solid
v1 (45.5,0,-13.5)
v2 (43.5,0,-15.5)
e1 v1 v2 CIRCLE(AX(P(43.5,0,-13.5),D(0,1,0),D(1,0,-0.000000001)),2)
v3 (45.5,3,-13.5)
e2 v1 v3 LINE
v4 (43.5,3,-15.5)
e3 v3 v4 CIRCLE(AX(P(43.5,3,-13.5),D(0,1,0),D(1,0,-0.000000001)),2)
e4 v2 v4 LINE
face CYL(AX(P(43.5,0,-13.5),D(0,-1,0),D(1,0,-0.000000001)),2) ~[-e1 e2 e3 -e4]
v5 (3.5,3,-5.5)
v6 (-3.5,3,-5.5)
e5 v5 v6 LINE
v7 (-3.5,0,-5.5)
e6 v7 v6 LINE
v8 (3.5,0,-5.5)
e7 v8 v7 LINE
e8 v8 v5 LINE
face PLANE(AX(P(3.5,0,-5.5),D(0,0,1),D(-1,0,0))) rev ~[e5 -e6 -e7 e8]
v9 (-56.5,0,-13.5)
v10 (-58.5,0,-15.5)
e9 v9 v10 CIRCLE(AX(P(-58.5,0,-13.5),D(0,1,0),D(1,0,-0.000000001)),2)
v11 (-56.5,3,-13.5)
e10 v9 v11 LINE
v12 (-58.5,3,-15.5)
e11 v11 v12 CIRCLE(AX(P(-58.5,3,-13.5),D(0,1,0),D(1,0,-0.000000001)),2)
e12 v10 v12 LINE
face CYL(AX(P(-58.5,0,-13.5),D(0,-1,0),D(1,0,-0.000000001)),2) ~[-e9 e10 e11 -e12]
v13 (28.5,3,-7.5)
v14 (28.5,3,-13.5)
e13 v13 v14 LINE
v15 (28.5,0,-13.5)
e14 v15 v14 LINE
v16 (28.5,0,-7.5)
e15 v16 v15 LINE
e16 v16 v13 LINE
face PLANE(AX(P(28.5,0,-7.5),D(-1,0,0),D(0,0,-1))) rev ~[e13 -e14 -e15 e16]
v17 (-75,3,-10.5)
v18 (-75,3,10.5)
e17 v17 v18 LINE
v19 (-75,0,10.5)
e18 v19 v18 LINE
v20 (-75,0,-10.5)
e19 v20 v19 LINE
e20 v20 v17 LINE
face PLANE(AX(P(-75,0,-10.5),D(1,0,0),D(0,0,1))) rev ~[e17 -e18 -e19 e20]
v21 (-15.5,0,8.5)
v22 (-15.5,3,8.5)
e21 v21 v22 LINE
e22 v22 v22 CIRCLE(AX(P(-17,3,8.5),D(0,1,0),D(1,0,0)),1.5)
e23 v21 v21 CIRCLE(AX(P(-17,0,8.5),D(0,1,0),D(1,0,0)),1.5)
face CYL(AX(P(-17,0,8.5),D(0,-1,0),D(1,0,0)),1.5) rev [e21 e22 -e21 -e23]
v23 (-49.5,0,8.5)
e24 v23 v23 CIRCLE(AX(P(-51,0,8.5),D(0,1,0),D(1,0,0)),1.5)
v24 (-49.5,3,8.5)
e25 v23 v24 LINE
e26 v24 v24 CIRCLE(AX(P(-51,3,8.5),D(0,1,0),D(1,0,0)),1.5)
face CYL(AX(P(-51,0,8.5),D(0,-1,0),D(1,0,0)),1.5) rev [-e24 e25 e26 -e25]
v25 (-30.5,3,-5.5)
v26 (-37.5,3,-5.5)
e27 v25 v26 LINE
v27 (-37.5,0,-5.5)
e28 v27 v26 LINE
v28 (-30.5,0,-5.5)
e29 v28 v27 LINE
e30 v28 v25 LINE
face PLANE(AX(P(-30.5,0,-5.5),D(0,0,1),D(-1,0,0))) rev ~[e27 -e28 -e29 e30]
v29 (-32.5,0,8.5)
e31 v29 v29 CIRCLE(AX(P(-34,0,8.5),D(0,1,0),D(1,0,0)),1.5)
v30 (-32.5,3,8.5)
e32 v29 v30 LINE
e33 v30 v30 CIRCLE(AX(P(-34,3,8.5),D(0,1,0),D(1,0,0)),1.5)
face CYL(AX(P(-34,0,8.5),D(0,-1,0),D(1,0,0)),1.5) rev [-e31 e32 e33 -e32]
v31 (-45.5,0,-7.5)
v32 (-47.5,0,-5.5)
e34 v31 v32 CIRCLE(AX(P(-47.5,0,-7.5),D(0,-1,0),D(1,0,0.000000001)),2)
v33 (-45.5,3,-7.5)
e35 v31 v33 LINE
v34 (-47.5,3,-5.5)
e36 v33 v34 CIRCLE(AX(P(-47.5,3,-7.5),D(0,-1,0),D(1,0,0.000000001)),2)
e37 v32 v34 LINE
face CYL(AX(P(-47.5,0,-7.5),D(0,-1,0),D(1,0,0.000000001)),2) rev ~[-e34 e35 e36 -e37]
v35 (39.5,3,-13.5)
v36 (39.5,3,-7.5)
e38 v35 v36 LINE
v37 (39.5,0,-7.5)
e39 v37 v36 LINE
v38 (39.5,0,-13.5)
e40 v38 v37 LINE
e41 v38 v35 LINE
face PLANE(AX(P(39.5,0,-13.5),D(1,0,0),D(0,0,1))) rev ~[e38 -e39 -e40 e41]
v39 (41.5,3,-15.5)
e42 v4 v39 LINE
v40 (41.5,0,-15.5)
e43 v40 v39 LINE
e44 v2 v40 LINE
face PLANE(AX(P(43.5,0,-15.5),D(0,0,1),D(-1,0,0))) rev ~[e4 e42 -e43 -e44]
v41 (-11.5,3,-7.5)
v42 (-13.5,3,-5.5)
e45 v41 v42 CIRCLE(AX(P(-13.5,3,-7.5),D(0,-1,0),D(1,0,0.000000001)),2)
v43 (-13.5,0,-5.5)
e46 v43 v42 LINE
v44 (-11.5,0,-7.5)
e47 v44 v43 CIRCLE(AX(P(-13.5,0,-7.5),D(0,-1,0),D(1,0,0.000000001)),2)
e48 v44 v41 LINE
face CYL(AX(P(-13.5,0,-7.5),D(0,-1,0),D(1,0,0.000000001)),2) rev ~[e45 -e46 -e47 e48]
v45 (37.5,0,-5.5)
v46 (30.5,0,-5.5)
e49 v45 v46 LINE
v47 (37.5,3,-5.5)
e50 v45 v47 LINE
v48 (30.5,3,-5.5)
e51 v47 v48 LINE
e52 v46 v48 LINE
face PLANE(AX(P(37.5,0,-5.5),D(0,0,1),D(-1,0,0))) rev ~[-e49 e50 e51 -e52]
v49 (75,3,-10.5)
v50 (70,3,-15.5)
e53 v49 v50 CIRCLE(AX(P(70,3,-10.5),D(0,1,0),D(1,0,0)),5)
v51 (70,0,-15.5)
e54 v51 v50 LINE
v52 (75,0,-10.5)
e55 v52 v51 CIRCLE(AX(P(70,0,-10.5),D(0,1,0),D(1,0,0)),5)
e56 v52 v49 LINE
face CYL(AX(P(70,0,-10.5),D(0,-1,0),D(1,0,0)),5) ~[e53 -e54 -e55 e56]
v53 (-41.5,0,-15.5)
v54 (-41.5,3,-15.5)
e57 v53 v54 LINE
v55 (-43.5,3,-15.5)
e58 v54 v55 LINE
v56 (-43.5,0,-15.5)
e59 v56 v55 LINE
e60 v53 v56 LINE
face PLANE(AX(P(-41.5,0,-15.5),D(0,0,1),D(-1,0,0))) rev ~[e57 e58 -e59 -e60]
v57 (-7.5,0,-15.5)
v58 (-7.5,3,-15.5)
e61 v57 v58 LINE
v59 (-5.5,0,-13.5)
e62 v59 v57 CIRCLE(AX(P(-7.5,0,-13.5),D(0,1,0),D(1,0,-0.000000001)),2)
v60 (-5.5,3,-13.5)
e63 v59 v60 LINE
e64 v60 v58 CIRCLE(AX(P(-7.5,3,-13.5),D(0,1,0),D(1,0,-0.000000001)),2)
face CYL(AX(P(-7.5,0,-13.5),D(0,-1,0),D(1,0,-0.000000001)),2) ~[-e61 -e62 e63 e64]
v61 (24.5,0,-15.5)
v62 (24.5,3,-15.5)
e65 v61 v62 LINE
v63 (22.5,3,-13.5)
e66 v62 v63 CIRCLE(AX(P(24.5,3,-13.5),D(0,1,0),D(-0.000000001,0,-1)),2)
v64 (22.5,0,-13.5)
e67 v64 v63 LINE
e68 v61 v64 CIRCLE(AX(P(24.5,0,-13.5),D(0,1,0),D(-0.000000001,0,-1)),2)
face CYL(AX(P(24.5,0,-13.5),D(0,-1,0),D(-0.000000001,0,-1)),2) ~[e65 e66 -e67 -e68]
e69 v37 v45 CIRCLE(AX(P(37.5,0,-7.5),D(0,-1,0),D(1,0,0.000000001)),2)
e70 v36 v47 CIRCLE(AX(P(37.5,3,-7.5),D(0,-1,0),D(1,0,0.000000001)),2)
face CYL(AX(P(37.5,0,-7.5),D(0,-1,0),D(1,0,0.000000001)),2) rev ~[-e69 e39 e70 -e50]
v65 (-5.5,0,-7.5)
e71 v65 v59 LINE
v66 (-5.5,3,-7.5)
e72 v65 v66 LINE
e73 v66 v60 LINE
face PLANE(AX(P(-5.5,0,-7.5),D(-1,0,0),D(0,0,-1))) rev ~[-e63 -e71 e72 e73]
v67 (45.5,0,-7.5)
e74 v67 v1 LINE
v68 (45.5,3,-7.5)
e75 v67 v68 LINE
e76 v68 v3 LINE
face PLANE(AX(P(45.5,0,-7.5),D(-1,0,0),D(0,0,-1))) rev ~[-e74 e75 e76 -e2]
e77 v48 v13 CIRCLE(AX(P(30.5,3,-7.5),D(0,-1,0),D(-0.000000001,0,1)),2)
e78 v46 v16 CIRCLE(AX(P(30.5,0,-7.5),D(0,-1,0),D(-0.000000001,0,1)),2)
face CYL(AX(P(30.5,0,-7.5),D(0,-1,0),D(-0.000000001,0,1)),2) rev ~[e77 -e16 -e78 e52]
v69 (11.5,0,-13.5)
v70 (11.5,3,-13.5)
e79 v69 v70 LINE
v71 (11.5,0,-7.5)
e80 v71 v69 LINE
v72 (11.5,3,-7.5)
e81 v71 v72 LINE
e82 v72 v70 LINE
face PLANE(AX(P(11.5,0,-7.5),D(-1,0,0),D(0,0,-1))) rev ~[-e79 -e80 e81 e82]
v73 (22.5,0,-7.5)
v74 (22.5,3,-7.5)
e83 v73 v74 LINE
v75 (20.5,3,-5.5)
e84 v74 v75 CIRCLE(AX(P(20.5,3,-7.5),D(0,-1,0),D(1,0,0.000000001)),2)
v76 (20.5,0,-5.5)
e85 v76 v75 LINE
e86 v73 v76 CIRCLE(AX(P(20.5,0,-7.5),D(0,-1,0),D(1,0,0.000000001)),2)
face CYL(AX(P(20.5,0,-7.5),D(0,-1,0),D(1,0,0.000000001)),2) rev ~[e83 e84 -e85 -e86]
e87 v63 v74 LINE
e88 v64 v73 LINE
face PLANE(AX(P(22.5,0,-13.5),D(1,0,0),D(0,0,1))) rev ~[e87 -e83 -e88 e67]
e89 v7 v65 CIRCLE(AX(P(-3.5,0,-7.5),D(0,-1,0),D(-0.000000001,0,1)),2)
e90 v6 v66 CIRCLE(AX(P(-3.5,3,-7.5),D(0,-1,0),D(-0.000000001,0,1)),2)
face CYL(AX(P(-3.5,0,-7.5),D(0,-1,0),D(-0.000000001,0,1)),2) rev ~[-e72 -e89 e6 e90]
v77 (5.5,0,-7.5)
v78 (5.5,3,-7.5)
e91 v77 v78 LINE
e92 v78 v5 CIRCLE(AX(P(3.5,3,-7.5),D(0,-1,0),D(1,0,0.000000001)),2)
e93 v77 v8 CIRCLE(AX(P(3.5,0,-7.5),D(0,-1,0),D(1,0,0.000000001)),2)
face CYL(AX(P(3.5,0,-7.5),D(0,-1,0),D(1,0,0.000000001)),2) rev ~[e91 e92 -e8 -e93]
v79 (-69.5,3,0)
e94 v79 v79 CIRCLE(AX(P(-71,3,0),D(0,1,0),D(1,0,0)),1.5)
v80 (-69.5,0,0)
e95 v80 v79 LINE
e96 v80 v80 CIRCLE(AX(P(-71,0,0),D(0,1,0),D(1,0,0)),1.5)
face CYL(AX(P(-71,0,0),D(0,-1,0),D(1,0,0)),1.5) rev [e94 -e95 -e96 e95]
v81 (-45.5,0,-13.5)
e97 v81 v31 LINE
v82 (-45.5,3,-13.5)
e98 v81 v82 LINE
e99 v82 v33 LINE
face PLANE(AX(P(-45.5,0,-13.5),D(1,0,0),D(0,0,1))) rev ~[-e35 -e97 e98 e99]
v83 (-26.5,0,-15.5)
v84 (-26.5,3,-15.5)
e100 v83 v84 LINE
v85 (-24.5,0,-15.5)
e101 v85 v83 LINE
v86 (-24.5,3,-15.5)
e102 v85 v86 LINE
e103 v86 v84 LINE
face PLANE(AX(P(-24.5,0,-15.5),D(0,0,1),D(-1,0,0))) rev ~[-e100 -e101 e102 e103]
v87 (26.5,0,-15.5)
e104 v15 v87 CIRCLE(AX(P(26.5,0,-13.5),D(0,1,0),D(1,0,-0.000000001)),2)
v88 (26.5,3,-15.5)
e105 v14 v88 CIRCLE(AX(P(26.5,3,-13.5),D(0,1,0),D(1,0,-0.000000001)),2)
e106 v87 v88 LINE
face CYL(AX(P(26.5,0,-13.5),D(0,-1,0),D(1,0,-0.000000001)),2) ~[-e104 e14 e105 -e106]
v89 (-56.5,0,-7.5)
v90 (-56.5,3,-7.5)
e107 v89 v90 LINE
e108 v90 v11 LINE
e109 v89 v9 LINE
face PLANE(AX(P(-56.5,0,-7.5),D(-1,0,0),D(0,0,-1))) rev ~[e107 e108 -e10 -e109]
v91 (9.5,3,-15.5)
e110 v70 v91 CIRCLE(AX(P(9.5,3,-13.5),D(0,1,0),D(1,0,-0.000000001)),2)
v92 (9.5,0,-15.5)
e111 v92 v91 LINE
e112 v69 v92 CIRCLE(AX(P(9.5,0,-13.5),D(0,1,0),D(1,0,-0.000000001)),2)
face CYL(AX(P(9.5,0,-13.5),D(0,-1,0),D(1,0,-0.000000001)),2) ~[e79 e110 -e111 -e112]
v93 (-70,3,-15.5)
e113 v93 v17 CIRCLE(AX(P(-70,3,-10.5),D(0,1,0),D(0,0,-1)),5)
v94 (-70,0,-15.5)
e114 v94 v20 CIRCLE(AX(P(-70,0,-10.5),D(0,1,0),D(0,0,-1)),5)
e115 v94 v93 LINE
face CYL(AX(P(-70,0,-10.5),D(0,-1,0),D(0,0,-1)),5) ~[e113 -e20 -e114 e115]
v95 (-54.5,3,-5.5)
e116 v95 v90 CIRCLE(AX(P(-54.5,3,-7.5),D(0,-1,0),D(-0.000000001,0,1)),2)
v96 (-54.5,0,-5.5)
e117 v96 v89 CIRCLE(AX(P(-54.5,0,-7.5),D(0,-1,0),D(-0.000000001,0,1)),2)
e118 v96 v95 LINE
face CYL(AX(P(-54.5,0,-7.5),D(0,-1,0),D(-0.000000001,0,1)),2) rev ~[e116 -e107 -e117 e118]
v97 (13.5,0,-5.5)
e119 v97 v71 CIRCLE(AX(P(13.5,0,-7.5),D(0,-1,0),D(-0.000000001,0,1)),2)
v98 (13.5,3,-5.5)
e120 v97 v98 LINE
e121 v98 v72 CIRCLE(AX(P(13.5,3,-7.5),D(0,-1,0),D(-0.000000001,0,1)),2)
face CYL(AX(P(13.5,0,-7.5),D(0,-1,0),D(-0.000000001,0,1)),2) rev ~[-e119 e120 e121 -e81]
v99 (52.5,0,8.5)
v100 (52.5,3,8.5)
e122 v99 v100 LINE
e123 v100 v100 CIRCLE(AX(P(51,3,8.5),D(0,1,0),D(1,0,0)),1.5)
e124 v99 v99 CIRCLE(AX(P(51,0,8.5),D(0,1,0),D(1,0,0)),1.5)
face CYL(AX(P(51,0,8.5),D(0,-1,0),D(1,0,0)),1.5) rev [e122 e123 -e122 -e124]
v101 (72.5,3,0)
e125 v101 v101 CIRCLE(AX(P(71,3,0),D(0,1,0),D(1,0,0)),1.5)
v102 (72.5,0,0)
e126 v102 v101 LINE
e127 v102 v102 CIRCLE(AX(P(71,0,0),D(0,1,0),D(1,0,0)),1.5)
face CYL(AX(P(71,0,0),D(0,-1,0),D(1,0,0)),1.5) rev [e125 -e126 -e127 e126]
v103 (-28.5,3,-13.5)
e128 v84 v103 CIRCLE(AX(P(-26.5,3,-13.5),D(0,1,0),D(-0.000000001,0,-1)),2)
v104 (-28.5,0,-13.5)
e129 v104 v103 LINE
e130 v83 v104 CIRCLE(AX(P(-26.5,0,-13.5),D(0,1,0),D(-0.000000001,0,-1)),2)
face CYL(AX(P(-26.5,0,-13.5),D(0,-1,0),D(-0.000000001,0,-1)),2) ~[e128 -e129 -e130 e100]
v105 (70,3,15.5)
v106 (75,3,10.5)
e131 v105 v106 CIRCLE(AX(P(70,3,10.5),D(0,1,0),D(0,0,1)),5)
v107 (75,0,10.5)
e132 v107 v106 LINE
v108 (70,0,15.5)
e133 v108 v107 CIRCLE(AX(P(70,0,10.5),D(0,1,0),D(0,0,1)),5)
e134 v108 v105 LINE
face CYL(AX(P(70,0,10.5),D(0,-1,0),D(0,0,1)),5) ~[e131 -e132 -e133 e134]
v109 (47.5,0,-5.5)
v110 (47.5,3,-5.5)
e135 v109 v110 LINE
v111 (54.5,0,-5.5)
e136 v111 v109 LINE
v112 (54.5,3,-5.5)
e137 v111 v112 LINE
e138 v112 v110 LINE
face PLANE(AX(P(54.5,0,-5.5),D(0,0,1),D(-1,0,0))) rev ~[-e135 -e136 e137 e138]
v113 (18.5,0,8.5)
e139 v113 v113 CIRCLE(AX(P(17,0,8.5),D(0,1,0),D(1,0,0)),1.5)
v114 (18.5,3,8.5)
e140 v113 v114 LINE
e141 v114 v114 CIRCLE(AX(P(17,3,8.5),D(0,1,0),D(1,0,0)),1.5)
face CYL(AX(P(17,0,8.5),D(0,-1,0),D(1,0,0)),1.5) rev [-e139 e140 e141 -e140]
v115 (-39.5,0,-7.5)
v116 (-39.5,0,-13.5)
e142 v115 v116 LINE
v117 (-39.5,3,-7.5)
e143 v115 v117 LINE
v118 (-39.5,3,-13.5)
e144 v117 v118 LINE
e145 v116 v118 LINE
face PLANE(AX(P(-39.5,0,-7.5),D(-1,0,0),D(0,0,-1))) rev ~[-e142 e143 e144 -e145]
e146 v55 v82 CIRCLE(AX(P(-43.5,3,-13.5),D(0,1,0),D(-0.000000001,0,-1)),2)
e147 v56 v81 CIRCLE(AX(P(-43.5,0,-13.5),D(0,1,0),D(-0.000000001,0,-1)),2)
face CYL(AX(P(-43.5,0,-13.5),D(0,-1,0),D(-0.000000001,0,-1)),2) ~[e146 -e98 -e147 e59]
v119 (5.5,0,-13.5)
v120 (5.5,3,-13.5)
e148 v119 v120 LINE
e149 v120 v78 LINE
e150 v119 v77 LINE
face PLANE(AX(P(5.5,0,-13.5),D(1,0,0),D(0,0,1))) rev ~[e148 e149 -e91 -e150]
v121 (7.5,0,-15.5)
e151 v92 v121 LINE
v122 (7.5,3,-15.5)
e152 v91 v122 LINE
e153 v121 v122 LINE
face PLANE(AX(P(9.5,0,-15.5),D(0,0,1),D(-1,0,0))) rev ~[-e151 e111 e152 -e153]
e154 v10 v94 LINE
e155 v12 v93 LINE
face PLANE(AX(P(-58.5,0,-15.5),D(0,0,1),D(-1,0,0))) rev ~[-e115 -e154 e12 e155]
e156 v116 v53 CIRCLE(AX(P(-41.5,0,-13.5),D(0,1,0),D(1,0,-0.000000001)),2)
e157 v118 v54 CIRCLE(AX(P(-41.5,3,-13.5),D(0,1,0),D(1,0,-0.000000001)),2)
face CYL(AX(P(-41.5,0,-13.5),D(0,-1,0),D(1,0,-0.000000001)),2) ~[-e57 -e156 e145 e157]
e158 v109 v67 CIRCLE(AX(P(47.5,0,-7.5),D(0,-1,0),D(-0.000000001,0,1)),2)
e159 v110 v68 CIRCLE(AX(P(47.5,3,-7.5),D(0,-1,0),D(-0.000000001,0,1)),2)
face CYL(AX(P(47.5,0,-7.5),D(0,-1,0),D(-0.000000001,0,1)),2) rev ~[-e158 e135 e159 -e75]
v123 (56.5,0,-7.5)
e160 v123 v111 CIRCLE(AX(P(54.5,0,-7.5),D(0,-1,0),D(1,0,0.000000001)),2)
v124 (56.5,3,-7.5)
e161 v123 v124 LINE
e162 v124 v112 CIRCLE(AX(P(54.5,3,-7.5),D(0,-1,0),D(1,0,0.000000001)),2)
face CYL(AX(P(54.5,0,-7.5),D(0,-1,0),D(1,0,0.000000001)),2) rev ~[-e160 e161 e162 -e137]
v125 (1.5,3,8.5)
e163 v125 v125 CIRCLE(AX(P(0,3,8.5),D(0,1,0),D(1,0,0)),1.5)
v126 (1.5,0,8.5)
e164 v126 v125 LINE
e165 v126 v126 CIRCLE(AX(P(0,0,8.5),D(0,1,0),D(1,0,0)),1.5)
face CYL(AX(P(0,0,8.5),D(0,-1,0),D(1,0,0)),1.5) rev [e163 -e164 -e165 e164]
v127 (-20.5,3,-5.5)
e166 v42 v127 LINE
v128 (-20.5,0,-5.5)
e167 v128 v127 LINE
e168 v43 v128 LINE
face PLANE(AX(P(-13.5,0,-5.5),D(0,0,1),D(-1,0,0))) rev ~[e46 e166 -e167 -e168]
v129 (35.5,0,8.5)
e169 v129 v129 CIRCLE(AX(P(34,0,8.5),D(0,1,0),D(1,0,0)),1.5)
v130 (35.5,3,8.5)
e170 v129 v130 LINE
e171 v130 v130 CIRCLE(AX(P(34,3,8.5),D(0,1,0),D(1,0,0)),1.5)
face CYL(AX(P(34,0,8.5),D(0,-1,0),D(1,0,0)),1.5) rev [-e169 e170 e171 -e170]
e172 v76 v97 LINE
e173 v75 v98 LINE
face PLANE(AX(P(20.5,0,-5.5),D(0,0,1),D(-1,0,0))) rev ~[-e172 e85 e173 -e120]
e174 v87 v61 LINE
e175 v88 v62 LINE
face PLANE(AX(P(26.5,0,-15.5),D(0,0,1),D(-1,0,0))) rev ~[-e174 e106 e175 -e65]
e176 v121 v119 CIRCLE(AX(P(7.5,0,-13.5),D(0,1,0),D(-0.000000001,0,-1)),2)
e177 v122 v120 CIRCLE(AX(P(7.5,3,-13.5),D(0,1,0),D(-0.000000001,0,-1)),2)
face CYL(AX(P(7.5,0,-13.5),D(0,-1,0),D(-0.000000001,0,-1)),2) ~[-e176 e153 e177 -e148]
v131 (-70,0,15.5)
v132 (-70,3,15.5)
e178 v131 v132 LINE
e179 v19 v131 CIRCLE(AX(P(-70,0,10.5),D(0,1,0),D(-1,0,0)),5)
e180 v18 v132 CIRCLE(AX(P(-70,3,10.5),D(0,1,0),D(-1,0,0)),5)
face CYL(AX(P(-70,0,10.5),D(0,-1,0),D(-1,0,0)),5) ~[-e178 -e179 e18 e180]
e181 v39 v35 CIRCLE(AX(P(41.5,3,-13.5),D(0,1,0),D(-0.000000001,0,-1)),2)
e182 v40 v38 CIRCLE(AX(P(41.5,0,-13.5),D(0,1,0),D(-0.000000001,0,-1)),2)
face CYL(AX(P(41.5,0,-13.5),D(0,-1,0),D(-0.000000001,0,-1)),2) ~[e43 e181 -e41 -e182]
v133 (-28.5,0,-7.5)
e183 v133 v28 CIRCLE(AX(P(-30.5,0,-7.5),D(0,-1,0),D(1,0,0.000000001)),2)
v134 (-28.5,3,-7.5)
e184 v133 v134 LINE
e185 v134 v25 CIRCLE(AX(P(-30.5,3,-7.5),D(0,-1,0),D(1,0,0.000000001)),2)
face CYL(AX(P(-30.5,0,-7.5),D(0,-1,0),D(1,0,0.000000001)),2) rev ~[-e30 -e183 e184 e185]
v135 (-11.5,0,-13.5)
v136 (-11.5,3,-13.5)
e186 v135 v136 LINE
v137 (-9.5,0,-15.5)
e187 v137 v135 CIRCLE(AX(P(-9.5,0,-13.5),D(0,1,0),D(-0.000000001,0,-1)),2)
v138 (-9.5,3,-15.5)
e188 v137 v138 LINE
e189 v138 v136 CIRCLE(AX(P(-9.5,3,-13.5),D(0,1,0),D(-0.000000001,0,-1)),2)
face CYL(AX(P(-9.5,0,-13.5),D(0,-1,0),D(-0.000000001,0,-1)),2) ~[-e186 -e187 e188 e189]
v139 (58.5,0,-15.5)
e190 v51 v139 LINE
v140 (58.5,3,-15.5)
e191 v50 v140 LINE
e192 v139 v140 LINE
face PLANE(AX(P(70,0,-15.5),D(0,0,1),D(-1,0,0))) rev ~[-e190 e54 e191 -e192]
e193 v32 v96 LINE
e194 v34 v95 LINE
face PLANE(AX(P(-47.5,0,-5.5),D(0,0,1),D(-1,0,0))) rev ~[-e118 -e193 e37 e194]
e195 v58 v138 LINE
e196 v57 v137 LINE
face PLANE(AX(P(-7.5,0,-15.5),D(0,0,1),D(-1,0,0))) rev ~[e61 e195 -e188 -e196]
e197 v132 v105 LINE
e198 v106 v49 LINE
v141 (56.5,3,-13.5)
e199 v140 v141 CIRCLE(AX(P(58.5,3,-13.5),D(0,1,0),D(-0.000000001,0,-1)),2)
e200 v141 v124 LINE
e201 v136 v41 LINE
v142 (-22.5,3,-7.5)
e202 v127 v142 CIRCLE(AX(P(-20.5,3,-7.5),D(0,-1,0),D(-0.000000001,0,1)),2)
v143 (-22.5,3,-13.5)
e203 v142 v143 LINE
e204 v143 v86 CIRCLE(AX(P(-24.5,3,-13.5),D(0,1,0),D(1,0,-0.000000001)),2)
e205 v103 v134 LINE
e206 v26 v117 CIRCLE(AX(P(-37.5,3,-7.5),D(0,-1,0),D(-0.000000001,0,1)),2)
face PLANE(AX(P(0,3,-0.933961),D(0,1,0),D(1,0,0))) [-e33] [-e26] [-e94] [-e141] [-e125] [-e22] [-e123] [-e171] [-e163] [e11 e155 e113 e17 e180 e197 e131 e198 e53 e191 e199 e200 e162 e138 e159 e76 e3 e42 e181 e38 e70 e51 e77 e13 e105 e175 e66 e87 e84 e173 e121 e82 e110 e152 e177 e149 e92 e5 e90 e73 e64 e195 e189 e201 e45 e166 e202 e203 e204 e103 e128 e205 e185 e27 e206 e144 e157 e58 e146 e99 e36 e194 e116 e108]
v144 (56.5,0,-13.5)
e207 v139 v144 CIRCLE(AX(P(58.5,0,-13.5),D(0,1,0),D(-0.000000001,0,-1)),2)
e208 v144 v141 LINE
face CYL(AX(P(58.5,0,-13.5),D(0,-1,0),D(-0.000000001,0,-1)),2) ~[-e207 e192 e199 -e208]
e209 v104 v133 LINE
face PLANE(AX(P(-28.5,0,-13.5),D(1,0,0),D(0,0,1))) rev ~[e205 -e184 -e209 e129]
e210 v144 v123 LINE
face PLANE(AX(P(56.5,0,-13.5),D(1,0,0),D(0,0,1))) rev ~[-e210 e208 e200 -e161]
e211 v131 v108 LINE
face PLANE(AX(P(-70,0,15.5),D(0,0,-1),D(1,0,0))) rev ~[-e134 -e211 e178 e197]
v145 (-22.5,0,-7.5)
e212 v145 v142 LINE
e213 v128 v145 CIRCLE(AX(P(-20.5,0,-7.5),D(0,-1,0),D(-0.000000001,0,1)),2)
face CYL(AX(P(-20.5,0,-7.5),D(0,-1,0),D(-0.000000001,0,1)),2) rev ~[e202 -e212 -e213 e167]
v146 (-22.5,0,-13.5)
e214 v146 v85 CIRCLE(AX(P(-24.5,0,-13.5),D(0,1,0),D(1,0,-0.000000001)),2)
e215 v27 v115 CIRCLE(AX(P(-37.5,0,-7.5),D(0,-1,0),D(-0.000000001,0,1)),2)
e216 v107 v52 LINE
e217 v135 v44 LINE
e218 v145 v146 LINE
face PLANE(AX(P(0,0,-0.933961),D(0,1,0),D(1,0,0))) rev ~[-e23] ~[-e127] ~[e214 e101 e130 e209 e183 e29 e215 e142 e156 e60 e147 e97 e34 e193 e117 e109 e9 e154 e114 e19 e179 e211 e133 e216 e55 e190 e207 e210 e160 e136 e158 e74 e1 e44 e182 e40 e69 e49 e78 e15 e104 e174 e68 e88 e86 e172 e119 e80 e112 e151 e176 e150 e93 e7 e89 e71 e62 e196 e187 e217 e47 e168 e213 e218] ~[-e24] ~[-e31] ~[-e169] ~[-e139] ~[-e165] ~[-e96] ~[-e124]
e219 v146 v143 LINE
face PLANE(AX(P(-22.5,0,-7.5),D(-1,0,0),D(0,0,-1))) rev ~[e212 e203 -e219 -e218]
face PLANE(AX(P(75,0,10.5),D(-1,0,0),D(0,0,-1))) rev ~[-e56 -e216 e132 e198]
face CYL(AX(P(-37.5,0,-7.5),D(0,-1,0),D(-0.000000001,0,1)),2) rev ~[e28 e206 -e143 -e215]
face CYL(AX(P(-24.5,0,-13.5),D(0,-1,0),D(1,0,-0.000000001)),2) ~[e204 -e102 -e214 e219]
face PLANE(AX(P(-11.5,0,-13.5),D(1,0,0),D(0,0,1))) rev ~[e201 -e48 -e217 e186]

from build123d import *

# Parameters (mm, degrees)
SKETCH1_R           = 1.5
BOSS_EXTRUDE1_DEPTH = 3


with BuildPart() as part:
    # Sketch1 → Boss-Extrude1 (new body)
    with BuildSketch(Plane(origin=(0, 0, 0), x_dir=(1, 0, 0), z_dir=(0, 1, 0))):
        with BuildLine():
            Line((70, 15.5), (58.5, 15.5))
            ThreePointArc((58.5, 15.5), (57.085786438, 14.914213562), (56.5, 13.5))
            Line((56.5, 13.5), (56.5, 7.5))
            ThreePointArc((56.5, 7.5), (55.914213562, 6.085786438), (54.5, 5.5))
            Line((54.5, 5.5), (47.5, 5.5))
            ThreePointArc((47.5, 5.5), (46.085786438, 6.085786438), (45.5, 7.5))
            Line((45.5, 7.5), (45.5, 13.5))
            ThreePointArc((45.5, 13.5), (44.914213562, 14.914213562), (43.5, 15.5))
            Line((43.5, 15.5), (41.5, 15.5))
            ThreePointArc((41.5, 15.5), (40.085786438, 14.914213562), (39.5, 13.5))
            Line((39.5, 13.5), (39.5, 7.5))
            ThreePointArc((39.5, 7.5), (38.914213562, 6.085786438), (37.5, 5.5))
            Line((37.5, 5.5), (30.5, 5.5))
            ThreePointArc((30.5, 5.5), (29.085786438, 6.085786438), (28.5, 7.5))
            Line((28.5, 7.5), (28.5, 13.5))
            ThreePointArc((28.5, 13.5), (27.914213562, 14.914213562), (26.5, 15.5))
            Line((26.5, 15.5), (24.5, 15.5))
            ThreePointArc((24.5, 15.5), (23.085786438, 14.914213562), (22.5, 13.5))
            Line((22.5, 13.5), (22.5, 7.5))
            ThreePointArc((22.5, 7.5), (21.914213562, 6.085786438), (20.5, 5.5))
            Line((20.5, 5.5), (13.5, 5.5))
            ThreePointArc((13.5, 5.5), (12.085786438, 6.085786438), (11.5, 7.5))
            Line((11.5, 7.5), (11.5, 13.5))
            ThreePointArc((11.5, 13.5), (10.914213562, 14.914213562), (9.5, 15.5))
            Line((9.5, 15.5), (7.5, 15.5))
            ThreePointArc((7.5, 15.5), (6.085786438, 14.914213562), (5.5, 13.5))
            Line((5.5, 13.5), (5.5, 7.5))
            ThreePointArc((5.5, 7.5), (4.914213562, 6.085786438), (3.5, 5.5))
            Line((3.5, 5.5), (-3.5, 5.5))
            ThreePointArc((-3.5, 5.5), (-4.914213562, 6.085786438), (-5.5, 7.5))
            Line((-5.5, 7.5), (-5.5, 13.5))
            ThreePointArc((-5.5, 13.5), (-6.085786438, 14.914213562), (-7.5, 15.5))
            Line((-7.5, 15.5), (-9.5, 15.5))
            ThreePointArc((-9.5, 15.5), (-10.914213562, 14.914213562), (-11.5, 13.5))
            Line((-11.5, 13.5), (-11.5, 7.5))
            ThreePointArc((-11.5, 7.5), (-12.085786438, 6.085786438), (-13.5, 5.5))
            Line((-13.5, 5.5), (-20.5, 5.5))
            ThreePointArc((-20.5, 5.5), (-21.914213562, 6.085786438), (-22.5, 7.5))
            Line((-22.5, 7.5), (-22.5, 13.5))
            ThreePointArc((-22.5, 13.5), (-23.085786438, 14.914213562), (-24.5, 15.5))
            Line((-24.5, 15.5), (-26.5, 15.5))
            ThreePointArc((-26.5, 15.5), (-27.914213562, 14.914213562), (-28.5, 13.5))
            Line((-28.5, 13.5), (-28.5, 7.5))
            ThreePointArc((-28.5, 7.5), (-29.085786438, 6.085786438), (-30.5, 5.5))
            Line((-30.5, 5.5), (-37.5, 5.5))
            ThreePointArc((-37.5, 5.5), (-38.914213562, 6.085786438), (-39.5, 7.5))
            Line((-39.5, 7.5), (-39.5, 13.5))
            ThreePointArc((-39.5, 13.5), (-40.085786438, 14.914213562), (-41.5, 15.5))
            Line((-41.5, 15.5), (-43.5, 15.5))
            ThreePointArc((-43.5, 15.5), (-44.914213562, 14.914213562), (-45.5, 13.5))
            Line((-45.5, 13.5), (-45.5, 7.5))
            ThreePointArc((-45.5, 7.5), (-46.085786438, 6.085786438), (-47.5, 5.5))
            Line((-47.5, 5.5), (-54.5, 5.5))
            ThreePointArc((-54.5, 5.5), (-55.914213562, 6.085786438), (-56.5, 7.5))
            Line((-56.5, 7.5), (-56.5, 13.5))
            ThreePointArc((-56.5, 13.5), (-57.085786438, 14.914213562), (-58.5, 15.5))
            Line((-58.5, 15.5), (-70, 15.5))
            ThreePointArc((-70, 15.5), (-73.535533906, 14.035533906), (-75, 10.5))
            Line((-75, 10.5), (-75, -10.5))
            ThreePointArc((-75, -10.5), (-73.535533906, -14.035533906), (-70, -15.5))
            Line((-70, -15.5), (70, -15.5))
            ThreePointArc((70, -15.5), (73.535533906, -14.035533906), (75, -10.5))
            Line((75, -10.5), (75, 10.5))
            ThreePointArc((75, 10.5), (73.535533906, 14.035533906), (70, 15.5))
        make_face()
        with Locations((71, 0)):
            Circle(SKETCH1_R, mode=Mode.SUBTRACT)
        with Locations((-51, -8.5)):
            Circle(SKETCH1_R, mode=Mode.SUBTRACT)
        with Locations((-34, -8.5)):
            Circle(SKETCH1_R, mode=Mode.SUBTRACT)
        with Locations((-17, -8.5)):
            Circle(SKETCH1_R, mode=Mode.SUBTRACT)
        with Locations((0, -8.5)):
            Circle(SKETCH1_R, mode=Mode.SUBTRACT)
        with Locations((17, -8.5)):
            Circle(SKETCH1_R, mode=Mode.SUBTRACT)
        with Locations((34, -8.5)):
            Circle(SKETCH1_R, mode=Mode.SUBTRACT)
        with Locations((51, -8.5)):
            Circle(SKETCH1_R, mode=Mode.SUBTRACT)
        with Locations((-71, 0)):
            Circle(SKETCH1_R, mode=Mode.SUBTRACT)
    extrude(amount=BOSS_EXTRUDE1_DEPTH)


solid = part.part
